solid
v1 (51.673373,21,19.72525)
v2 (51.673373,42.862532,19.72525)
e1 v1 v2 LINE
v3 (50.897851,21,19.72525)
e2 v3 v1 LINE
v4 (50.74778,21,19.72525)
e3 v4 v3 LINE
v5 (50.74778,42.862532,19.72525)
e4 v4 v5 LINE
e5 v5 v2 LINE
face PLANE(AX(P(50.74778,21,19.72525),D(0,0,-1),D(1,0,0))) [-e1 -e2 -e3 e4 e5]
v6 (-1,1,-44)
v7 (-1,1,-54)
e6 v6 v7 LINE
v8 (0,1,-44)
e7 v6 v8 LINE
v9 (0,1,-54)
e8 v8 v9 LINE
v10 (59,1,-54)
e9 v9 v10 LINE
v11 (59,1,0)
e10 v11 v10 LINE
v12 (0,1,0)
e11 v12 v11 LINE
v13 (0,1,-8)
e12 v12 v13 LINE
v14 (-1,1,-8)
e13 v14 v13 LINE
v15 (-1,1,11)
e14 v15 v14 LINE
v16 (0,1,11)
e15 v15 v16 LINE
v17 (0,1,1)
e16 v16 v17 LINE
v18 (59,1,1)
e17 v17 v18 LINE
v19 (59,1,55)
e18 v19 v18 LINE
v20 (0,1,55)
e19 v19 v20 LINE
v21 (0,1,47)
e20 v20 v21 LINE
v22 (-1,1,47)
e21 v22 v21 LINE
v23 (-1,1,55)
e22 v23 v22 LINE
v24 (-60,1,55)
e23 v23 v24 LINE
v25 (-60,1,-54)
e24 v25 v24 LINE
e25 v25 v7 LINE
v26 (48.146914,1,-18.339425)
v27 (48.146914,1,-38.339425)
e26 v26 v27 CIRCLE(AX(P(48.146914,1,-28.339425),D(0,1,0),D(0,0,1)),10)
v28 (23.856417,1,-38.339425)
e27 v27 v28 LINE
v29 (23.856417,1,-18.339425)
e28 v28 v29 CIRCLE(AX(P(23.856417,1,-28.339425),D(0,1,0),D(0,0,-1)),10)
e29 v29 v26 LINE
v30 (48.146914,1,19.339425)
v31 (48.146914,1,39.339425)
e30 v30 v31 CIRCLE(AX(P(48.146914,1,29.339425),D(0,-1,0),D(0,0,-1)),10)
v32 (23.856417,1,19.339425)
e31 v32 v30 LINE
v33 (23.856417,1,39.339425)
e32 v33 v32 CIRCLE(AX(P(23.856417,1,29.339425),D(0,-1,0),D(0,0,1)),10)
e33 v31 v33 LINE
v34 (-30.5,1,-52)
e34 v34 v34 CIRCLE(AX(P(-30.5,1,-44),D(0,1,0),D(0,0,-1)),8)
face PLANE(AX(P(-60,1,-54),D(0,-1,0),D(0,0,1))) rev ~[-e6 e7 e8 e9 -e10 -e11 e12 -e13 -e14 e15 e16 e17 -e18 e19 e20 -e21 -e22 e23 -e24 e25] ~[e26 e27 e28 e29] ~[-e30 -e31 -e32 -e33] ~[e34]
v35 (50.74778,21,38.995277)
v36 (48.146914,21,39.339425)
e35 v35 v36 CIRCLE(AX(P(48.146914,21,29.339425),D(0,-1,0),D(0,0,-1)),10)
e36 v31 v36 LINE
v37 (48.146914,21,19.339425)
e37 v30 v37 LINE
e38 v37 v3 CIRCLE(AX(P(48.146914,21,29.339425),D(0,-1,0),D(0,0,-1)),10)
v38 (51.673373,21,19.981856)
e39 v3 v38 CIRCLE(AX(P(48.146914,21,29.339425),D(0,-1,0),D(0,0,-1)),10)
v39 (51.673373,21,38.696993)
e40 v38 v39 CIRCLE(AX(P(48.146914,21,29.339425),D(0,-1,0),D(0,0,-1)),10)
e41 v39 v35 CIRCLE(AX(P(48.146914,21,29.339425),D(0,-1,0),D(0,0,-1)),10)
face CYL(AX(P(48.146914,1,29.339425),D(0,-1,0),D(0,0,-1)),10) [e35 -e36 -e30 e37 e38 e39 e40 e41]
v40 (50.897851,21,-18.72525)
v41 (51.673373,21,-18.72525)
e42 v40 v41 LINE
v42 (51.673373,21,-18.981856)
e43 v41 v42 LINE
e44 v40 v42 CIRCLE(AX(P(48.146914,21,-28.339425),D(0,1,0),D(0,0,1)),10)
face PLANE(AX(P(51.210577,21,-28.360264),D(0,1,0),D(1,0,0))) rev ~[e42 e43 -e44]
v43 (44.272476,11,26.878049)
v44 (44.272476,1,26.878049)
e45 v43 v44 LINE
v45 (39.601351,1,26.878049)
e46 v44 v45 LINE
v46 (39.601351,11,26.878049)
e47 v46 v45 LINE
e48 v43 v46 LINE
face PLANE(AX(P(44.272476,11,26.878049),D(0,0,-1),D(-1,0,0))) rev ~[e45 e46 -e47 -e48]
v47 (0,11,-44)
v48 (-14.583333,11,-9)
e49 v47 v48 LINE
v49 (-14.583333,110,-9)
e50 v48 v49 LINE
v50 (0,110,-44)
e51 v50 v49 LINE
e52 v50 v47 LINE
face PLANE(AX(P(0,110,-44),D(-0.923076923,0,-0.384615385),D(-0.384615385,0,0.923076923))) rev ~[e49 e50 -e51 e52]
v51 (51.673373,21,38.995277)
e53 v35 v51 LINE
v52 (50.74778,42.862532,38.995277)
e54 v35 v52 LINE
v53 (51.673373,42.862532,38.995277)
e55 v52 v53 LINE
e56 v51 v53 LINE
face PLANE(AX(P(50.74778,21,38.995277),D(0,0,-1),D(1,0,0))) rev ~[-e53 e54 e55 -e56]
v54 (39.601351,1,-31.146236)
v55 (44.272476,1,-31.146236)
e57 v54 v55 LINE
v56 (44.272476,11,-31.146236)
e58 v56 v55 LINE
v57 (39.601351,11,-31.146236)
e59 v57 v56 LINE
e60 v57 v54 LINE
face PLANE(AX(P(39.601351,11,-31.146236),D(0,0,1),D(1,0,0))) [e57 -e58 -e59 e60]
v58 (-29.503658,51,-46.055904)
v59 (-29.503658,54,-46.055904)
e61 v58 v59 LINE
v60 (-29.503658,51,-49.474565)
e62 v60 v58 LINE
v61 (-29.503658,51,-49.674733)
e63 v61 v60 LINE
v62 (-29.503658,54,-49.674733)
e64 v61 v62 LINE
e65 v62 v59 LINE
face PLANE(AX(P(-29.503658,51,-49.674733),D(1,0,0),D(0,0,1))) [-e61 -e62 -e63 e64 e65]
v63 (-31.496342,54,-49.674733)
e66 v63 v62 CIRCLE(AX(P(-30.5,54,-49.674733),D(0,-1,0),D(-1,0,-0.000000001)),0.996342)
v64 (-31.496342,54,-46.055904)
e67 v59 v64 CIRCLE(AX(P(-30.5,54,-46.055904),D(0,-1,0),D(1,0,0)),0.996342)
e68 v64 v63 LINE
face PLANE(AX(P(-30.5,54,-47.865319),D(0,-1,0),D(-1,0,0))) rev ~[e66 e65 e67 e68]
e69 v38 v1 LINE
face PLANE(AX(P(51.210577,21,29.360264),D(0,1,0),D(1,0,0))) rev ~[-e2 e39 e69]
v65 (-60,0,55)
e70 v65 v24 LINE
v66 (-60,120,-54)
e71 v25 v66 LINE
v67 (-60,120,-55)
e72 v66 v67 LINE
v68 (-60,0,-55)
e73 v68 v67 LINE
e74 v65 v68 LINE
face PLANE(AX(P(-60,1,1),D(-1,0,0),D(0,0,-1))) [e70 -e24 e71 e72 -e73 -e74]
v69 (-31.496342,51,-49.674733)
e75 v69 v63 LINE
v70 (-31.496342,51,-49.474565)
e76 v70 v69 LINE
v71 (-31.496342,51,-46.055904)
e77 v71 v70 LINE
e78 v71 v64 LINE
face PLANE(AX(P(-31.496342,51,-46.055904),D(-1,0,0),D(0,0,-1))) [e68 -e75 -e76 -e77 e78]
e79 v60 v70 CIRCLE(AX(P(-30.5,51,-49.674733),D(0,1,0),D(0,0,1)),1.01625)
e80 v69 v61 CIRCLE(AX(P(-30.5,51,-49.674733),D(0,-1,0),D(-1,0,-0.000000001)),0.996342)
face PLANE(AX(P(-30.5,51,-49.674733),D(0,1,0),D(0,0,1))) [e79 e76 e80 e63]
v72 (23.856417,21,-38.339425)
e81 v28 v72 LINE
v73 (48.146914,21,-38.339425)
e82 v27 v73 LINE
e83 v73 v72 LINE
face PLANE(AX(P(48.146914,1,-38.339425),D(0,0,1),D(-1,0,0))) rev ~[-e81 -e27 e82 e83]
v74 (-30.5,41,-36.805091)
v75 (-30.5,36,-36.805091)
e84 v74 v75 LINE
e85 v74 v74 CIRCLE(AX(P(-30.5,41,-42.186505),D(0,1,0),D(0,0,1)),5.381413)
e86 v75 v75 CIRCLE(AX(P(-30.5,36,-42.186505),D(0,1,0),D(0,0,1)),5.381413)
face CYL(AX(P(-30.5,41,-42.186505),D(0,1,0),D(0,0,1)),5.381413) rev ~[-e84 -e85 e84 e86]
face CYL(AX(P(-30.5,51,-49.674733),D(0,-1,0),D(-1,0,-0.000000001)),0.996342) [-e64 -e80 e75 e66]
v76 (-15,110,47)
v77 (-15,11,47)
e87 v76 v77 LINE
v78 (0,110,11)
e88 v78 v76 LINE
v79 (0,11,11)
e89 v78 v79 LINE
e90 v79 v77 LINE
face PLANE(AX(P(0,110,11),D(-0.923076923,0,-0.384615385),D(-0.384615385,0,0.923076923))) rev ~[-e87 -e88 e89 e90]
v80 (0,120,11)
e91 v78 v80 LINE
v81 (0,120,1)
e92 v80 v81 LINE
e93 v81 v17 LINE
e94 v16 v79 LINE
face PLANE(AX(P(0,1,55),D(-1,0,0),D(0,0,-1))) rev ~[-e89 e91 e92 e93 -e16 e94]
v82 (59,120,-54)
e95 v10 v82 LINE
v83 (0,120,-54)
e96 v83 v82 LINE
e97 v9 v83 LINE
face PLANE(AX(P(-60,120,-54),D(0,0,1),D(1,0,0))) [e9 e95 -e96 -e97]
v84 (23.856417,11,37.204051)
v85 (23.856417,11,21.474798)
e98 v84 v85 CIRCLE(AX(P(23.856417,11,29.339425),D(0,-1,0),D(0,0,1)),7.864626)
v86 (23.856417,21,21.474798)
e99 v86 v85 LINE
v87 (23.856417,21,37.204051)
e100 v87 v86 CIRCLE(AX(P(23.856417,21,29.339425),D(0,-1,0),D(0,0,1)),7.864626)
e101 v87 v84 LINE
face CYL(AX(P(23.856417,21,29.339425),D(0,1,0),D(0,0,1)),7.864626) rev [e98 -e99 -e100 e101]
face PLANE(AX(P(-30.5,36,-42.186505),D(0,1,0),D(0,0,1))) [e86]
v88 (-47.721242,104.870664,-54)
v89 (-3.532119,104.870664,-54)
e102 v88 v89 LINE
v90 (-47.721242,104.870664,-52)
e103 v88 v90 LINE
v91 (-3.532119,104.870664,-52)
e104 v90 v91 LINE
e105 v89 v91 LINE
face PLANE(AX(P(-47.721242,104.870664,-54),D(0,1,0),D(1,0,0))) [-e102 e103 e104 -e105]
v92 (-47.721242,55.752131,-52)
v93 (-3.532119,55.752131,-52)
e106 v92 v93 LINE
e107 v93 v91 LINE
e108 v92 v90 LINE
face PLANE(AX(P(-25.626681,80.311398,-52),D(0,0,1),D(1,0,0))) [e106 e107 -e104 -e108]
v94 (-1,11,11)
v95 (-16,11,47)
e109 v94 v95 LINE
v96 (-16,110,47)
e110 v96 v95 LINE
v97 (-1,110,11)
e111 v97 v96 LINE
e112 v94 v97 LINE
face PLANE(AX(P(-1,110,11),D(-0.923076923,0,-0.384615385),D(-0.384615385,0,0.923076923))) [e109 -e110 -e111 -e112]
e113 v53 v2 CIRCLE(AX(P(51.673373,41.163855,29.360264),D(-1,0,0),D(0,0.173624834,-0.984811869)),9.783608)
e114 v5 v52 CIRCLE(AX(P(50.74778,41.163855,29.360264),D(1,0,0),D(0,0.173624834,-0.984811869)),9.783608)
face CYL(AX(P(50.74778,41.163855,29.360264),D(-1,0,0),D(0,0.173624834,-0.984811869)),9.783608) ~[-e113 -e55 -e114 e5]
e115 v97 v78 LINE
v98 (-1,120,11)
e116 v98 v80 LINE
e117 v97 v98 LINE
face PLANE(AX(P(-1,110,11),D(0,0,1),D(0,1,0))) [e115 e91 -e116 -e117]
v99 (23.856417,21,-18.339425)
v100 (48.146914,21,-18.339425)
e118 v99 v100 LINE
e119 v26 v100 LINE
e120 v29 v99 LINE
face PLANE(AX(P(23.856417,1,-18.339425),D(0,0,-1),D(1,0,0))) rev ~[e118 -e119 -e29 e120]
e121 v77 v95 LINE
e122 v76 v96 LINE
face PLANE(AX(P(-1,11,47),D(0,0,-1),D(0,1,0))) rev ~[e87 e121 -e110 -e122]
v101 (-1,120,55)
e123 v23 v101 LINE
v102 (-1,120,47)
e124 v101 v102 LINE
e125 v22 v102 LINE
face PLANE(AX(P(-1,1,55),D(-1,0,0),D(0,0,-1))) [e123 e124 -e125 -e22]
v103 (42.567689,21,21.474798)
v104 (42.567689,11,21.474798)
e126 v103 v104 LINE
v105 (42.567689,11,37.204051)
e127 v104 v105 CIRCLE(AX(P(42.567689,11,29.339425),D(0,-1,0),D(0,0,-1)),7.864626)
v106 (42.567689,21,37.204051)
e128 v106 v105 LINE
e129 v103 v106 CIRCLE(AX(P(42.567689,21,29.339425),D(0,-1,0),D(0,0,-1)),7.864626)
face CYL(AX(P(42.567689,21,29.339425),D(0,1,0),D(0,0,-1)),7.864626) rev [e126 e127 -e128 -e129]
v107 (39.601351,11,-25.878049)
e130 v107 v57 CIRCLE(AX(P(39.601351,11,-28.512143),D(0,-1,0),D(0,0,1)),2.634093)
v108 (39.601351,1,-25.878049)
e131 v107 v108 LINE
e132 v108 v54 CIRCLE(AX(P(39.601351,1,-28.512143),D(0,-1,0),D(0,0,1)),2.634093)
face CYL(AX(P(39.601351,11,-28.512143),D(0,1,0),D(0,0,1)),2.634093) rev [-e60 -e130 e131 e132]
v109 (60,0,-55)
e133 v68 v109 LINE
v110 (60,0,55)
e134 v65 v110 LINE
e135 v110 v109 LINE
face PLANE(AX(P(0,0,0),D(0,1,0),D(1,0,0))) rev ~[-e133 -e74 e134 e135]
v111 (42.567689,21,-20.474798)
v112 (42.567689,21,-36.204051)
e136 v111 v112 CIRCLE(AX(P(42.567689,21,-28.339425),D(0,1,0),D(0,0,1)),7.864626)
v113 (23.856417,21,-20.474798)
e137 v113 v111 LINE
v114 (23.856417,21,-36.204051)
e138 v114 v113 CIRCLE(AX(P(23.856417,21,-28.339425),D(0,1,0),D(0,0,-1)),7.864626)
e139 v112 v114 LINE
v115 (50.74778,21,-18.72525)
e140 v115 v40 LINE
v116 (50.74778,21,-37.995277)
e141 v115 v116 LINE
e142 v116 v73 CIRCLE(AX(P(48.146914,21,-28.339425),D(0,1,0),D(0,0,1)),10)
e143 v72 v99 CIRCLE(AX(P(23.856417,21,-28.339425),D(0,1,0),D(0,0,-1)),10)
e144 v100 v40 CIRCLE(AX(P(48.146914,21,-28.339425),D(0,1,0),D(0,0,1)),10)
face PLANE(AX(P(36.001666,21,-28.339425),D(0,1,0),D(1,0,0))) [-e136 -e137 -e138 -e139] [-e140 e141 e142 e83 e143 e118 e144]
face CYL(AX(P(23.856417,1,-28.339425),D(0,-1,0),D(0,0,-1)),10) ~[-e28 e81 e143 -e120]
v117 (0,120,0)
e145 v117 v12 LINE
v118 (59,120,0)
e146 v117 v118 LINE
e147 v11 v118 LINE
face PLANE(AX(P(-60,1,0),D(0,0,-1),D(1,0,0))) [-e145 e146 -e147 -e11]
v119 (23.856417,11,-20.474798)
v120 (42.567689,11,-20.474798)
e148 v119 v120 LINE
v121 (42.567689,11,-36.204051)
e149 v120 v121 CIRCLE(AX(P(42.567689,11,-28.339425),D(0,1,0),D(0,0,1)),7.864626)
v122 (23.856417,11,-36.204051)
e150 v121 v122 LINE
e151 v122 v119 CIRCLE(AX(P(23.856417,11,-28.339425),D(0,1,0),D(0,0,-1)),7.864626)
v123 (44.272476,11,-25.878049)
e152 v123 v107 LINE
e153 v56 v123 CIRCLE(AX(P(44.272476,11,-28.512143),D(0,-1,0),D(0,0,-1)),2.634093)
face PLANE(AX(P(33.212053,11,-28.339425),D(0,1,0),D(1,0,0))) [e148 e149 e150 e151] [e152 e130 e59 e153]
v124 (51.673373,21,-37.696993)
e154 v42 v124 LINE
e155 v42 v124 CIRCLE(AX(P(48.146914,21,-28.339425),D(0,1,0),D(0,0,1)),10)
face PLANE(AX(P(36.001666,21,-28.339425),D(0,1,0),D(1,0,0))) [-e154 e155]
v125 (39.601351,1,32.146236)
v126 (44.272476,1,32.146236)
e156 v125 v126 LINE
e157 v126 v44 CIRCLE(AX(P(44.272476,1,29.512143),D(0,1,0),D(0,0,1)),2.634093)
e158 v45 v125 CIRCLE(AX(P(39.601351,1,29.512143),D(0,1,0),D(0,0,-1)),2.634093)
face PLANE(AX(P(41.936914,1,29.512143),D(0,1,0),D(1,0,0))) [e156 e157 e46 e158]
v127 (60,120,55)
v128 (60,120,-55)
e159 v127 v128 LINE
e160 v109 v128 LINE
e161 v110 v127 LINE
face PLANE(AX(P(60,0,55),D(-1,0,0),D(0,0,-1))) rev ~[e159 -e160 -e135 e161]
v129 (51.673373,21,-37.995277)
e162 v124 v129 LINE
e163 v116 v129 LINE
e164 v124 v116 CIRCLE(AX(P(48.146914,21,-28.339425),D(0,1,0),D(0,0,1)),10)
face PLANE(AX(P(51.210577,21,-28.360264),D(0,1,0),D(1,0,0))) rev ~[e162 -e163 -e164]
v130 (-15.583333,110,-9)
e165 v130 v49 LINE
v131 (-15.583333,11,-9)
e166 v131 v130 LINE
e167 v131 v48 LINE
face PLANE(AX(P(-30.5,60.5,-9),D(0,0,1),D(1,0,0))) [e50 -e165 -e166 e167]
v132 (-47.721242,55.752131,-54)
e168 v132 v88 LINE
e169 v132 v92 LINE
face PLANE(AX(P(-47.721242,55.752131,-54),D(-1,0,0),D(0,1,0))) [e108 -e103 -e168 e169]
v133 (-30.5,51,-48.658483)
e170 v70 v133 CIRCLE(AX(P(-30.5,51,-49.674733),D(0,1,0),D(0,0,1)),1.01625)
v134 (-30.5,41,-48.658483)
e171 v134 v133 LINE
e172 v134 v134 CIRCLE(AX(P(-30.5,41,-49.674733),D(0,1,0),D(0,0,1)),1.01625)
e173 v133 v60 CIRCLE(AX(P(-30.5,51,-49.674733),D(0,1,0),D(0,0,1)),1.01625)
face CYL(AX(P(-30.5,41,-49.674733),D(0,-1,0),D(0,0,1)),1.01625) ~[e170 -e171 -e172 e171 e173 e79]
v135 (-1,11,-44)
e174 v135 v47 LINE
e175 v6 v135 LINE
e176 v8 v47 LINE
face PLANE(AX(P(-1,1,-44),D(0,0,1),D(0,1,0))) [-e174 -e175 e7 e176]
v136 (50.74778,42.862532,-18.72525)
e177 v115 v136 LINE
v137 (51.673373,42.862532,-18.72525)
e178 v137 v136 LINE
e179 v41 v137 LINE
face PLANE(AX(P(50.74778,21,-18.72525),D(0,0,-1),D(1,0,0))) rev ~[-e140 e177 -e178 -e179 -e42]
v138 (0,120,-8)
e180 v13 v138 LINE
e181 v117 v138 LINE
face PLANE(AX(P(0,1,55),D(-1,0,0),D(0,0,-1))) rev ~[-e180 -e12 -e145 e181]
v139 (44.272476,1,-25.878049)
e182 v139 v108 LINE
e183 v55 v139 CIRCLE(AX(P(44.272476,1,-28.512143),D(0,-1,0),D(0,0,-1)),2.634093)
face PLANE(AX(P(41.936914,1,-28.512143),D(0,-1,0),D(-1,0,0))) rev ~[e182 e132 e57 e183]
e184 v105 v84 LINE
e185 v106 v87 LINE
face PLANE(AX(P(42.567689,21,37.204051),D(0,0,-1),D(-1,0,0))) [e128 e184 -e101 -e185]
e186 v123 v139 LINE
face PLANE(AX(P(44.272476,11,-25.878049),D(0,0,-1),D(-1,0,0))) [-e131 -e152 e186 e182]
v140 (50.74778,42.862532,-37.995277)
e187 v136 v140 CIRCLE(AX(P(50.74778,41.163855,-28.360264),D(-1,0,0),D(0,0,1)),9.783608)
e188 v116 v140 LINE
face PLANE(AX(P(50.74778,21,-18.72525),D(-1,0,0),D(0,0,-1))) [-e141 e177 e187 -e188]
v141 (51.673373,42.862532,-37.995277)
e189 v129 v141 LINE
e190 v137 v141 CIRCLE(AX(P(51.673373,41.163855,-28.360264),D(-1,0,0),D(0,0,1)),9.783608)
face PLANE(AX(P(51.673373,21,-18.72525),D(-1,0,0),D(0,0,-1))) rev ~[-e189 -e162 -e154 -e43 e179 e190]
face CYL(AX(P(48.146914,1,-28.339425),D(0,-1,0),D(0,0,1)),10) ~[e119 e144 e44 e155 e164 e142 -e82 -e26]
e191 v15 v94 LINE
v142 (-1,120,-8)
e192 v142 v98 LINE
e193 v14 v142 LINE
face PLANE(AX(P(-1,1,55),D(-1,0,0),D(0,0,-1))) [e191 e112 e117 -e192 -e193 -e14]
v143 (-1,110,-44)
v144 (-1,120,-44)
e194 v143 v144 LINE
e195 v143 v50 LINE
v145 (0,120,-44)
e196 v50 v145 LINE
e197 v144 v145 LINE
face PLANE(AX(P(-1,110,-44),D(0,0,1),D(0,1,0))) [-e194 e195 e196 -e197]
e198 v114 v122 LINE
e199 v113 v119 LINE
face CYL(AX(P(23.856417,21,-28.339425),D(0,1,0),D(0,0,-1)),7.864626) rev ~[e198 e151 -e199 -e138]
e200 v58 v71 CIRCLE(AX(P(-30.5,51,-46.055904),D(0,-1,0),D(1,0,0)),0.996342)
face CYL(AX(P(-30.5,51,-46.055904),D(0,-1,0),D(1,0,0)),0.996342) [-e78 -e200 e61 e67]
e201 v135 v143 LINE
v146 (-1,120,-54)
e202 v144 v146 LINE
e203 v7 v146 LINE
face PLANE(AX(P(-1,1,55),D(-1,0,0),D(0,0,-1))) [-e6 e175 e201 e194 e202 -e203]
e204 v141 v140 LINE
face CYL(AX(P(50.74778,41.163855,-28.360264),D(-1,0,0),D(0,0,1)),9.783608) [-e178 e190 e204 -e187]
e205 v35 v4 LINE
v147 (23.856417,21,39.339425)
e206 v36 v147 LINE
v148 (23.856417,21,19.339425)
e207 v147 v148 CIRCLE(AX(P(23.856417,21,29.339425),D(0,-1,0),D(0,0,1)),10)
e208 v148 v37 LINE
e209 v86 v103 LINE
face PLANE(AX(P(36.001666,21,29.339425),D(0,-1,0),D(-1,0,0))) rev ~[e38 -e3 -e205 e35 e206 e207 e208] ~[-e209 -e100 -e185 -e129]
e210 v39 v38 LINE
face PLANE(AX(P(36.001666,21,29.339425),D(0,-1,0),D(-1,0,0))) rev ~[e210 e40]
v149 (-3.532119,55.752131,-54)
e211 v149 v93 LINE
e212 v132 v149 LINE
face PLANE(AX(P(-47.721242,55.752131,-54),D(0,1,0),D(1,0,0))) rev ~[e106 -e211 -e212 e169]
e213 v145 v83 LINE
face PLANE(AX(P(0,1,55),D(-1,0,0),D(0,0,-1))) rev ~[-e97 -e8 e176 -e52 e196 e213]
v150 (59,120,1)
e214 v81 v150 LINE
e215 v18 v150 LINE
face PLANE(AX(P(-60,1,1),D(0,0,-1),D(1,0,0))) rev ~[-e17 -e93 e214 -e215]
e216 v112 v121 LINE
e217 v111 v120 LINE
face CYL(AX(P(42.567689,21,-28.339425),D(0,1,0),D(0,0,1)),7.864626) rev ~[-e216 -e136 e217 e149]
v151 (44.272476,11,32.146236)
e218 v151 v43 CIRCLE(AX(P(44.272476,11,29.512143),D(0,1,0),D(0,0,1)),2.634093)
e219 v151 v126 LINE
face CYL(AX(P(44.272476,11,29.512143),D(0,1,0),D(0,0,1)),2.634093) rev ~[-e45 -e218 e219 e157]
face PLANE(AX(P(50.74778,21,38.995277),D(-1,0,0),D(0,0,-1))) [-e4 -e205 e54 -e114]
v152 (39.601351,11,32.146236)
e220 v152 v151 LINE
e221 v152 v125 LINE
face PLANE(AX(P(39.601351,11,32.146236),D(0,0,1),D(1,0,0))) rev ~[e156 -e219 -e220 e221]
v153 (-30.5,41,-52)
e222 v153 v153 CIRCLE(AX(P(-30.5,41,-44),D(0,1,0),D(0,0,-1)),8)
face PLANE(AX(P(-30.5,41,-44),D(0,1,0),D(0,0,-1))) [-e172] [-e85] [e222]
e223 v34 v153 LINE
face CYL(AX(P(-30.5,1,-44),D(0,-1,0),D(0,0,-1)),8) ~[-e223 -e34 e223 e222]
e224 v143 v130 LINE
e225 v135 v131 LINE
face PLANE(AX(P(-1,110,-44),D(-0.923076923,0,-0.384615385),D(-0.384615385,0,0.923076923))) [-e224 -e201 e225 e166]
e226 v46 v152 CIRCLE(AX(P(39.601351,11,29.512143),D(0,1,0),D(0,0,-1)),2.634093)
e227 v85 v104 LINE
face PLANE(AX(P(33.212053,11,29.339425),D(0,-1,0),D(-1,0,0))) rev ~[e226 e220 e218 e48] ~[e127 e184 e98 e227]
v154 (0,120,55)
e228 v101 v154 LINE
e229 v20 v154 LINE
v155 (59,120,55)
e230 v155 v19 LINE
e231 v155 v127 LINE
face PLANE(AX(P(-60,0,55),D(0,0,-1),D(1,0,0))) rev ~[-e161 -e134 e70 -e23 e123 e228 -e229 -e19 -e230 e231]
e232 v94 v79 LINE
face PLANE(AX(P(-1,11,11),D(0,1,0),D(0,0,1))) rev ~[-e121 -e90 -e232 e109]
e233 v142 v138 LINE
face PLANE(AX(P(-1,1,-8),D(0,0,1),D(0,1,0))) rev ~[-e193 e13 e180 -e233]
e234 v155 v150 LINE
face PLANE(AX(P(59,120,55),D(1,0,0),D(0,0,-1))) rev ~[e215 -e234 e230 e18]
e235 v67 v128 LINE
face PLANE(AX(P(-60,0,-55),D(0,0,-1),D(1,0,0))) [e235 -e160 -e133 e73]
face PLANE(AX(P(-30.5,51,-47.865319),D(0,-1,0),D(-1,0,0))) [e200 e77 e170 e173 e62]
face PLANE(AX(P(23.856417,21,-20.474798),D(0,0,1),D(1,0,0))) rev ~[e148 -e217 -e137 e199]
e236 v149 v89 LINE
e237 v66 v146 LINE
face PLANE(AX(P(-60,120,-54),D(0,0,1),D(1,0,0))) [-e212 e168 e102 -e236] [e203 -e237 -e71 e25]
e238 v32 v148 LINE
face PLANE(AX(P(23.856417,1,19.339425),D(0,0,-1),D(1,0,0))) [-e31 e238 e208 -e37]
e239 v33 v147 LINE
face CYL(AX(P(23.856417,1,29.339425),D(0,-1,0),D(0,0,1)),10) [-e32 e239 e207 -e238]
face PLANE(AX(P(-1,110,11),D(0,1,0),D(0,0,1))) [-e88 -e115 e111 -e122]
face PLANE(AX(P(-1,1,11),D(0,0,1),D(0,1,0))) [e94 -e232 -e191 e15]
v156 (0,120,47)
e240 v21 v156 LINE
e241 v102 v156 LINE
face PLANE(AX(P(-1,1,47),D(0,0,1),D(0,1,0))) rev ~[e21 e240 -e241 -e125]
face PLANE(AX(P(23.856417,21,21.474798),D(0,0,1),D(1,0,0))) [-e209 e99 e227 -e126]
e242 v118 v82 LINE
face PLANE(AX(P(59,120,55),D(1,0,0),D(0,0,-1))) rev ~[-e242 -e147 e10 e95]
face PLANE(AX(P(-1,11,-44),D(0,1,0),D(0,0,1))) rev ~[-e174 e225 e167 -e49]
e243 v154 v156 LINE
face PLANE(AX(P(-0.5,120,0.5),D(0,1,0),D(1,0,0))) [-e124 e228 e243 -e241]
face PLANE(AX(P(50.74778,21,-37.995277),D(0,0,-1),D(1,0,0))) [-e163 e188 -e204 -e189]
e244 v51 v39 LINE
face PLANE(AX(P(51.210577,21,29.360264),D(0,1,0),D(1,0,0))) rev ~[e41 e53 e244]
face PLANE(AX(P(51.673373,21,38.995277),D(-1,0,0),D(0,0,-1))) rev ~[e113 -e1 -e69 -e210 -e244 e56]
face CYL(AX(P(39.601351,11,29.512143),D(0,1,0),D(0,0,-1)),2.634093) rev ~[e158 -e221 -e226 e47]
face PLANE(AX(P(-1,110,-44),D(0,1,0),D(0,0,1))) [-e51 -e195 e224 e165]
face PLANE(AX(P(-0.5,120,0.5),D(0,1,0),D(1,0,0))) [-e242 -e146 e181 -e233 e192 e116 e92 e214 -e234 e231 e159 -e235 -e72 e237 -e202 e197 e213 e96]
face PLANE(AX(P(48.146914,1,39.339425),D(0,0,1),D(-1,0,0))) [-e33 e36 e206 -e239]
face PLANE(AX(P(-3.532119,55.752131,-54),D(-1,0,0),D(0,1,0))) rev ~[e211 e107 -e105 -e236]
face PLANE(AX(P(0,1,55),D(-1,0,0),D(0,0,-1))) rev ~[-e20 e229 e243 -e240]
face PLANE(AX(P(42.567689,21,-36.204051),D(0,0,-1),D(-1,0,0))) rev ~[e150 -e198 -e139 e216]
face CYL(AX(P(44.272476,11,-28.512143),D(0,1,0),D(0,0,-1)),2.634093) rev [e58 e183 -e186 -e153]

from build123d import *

# Parameters (mm, degrees)
SKETCH_1_W           = 120
SKETCH_1_H           = 110
EXTRUDE_2_DEPTH      = 120
SKETCH_2_W           = 118
SKETCH_2_H           = 118
CUT_EXTRUDE_1_DEPTH  = 109
SKETCH_5_W           = 109
SKETCH_5_H           = 118
CUT_EXTRUDE_2_DEPTH  = 109
SKETCH_6_W           = 119
SKETCH_6_H           = 109
CUT_EXTRUDE_3_DEPTH  = 109
SKETCH_7_W           = 1
SKETCH_7_H           = 109
EXTRUDE_3_DEPTH      = 119
SKETCH_8_W           = 119
SKETCH_8_H           = 1
EXTRUDE_5_DEPTH      = 119
SKETCH_9_W           = 36
SKETCH_9_H           = 10
CUT_EXTRUDE_4_DEPTH  = 39
SKETCH_11_W          = 36
SKETCH_11_H          = 10
CUT_EXTRUDE_5_DEPTH  = 39
SKETCH_12_W          = 36
SKETCH_12_H          = 99
EXTRUDE_6_DEPTH      = 30
CUT_EXTRUDE_6_DEPTH  = 100
SKETCH_14_W          = 36
SKETCH_14_H          = 99
EXTRUDE_7_DEPTH      = 30
CUT_EXTRUDE_7_DEPTH  = 100
EXTRUDE_9_DEPTH      = 20
CUT_EXTRUDE_8_DEPTH  = 10
CUT_EXTRUDE_9_DEPTH  = 10
SKETCH_22_W          = 0.925592825
SKETCH_22_H          = 19.270027161
EXTRUDE_10_DEPTH     = 30
CUT_EXTRUDE_14_DEPTH = 5
SKETCH_27_R          = 8
EXTRUDE_14_DEPTH     = 40
SKETCH_29_R          = 5.381413495
CUT_EXTRUDE_15_DEPTH = 5
SKETCH_30_R          = 1.016249725
EXTRUDE_15_DEPTH     = 10
EXTRUDE_16_DEPTH     = 3
SKETCH_32_W          = 44.189123475
SKETCH_32_H          = 49.118532685
EXTRUDE_17_DEPTH     = 2
SKETCH_33_W          = 59
SKETCH_33_H          = 119
CUT_EXTRUDE_16_DEPTH = 10


with BuildPart() as part:
    # 스케치1 → 보스-돌출2 (new body)
    with BuildSketch(Plane(origin=(0, 0, 0), x_dir=(1, 0, 0), z_dir=(0, 1, 0))):
        Rectangle(SKETCH_1_W, SKETCH_1_H)
    extrude(amount=EXTRUDE_2_DEPTH)

    # 스케치2 → 컷-돌출1 (cut)
    with BuildSketch(Plane.XY.offset(55)):
        with Locations((0, 60)):
            Rectangle(SKETCH_2_W, SKETCH_2_H)
    extrude(amount=-CUT_EXTRUDE_1_DEPTH, mode=Mode.SUBTRACT)

    # 스케치5 → 컷-돌출2 (cut)
    with BuildSketch(Plane.ZY.offset(60)):
        with Locations((0.5, 60)):
            Rectangle(SKETCH_5_W, SKETCH_5_H)
    extrude(amount=-CUT_EXTRUDE_2_DEPTH, mode=Mode.SUBTRACT)

    # 스케치6 → 컷-돌출3 (cut)
    with BuildSketch(Plane(origin=(0, 120, 0), x_dir=(1, 0, 0), z_dir=(0, 1, 0))):
        with Locations((-0.5, -0.5)):
            Rectangle(SKETCH_6_W, SKETCH_6_H)
    extrude(amount=-CUT_EXTRUDE_3_DEPTH, mode=Mode.SUBTRACT)

    # 스케치7 → 보스-돌출3 (add)
    with BuildSketch(Plane(origin=(0, 1, 0), x_dir=(1, 0, 0), z_dir=(0, 1, 0))):
        with Locations((-0.5, -0.5)):
            Rectangle(SKETCH_7_W, SKETCH_7_H)
    extrude(amount=EXTRUDE_3_DEPTH)

    # 스케치8 → 보스-돌출5 (add)
    with BuildSketch(Plane(origin=(0, 1, 0), x_dir=(1, 0, 0), z_dir=(0, 1, 0))):
        with Locations((-0.5, -0.5)):
            Rectangle(SKETCH_8_W, SKETCH_8_H)
    extrude(amount=EXTRUDE_5_DEPTH)

    # 스케치9 → 컷-돌출4 (cut)
    with BuildSketch(Plane.ZY.offset(1)):
        with Locations((-26, 115)):
            Rectangle(SKETCH_9_W, SKETCH_9_H)
        with Locations((-26, 6)):
            Rectangle(SKETCH_9_W, SKETCH_9_H)
    extrude(amount=-CUT_EXTRUDE_4_DEPTH, mode=Mode.SUBTRACT)

    # 스케치11 → 컷-돌출5 (cut)
    with BuildSketch(Plane.ZY.offset(1)):
        with Locations((29, 115)):
            Rectangle(SKETCH_11_W, SKETCH_11_H)
        with Locations((29, 6)):
            Rectangle(SKETCH_11_W, SKETCH_11_H)
    extrude(amount=-CUT_EXTRUDE_5_DEPTH, mode=Mode.SUBTRACT)

    # 스케치12 → 보스-돌출6 (add)
    with BuildSketch(Plane.ZY.offset(1)):
        with Locations((-26, 60.5)):
            Rectangle(SKETCH_12_W, SKETCH_12_H)
    extrude(amount=EXTRUDE_6_DEPTH)

    # 스케치13 → 컷-돌출6 (cut)
    with BuildSketch(Plane(origin=(0, 110, 0), x_dir=(1, 0, 0), z_dir=(0, 1, 0))):
        Polygon((-1, 44), (-16, 8), (-31, 8), (-31, 44), align=None)
        Polygon((0, 44), (-15, 8), (0, 8), align=None)
    extrude(amount=-CUT_EXTRUDE_6_DEPTH, mode=Mode.SUBTRACT)

    # 스케치14 → 보스-돌출7 (add)
    with BuildSketch(Plane.ZY.offset(1)):
        with Locations((29, 60.5)):
            Rectangle(SKETCH_14_W, SKETCH_14_H)
    extrude(amount=EXTRUDE_7_DEPTH)

    # 스케치15 → 컷-돌출7 (cut)
    with BuildSketch(Plane(origin=(0, 110, 0), x_dir=(1, 0, 0), z_dir=(0, 1, 0))):
        Polygon((-1, -11), (-16, -47), (-31, -47), (-31, -11), align=None)
        Polygon((0, -11), (-15, -47), (0, -47), align=None)
    extrude(amount=-CUT_EXTRUDE_7_DEPTH, mode=Mode.SUBTRACT)

    # 스케치16 → 보스-돌출9 (add)
    with BuildSketch(Plane(origin=(0, 1, 0), x_dir=(1, 0, 0), z_dir=(0, 1, 0))):
        with BuildLine():
            Line((48.146914235, -39.33942453), (23.856416777, -39.33942453))
            ThreePointArc((23.856416777, -39.33942453), (13.856416777, -29.33942453), (23.856416777, -19.33942453))
            Line((23.856416777, -19.33942453), (48.146914235, -19.33942453))
            ThreePointArc((48.146914235, -19.33942453), (58.146914235, -29.33942453), (48.146914235, -39.33942453))
        make_face()
        with BuildLine():
            Line((48.146914235, 38.33942453), (23.856416777, 38.33942453))
            ThreePointArc((23.856416777, 38.33942453), (13.856416777, 28.33942453), (23.856416777, 18.33942453))
            Line((23.856416777, 18.33942453), (48.146914235, 18.33942453))
            ThreePointArc((48.146914235, 18.33942453), (58.146914235, 28.33942453), (48.146914235, 38.33942453))
        make_face()
    extrude(amount=EXTRUDE_9_DEPTH)

    # 스케치17 → 컷-돌출8 (cut)
    with BuildSketch(Plane(origin=(0, 21, 0), x_dir=(1, 0, 0), z_dir=(0, 1, 0))):
        with BuildLine():
            Line((23.856416777, -21.474798149), (42.567688879, -21.474798149))
            ThreePointArc((42.567688879, -21.474798149), (50.43231526, -29.33942453), (42.567688879, -37.204050911))
            Line((42.567688879, -37.204050911), (23.856416777, -37.204050911))
            ThreePointArc((23.856416777, -37.204050911), (15.991790397, -29.33942453), (23.856416777, -21.474798149))
        make_face()
        with BuildLine():
            Line((23.856416777, 20.474798149), (42.567688879, 20.474798149))
            ThreePointArc((42.567688879, 20.474798149), (50.43231526, 28.33942453), (42.567688879, 36.204050911))
            Line((42.567688879, 36.204050911), (23.856416777, 36.204050911))
            ThreePointArc((23.856416777, 36.204050911), (15.991790397, 28.33942453), (23.856416777, 20.474798149))
        make_face()
    extrude(amount=-CUT_EXTRUDE_8_DEPTH, mode=Mode.SUBTRACT)

    # 스케치19 → 컷-돌출9 (cut)
    with BuildSketch(Plane(origin=(0, 11, 0), x_dir=(1, 0, 0), z_dir=(0, 1, 0))):
        with BuildLine():
            Line((39.6013509, 31.146236018), (44.272476327, 31.146236018))
            ThreePointArc((44.272476327, 31.146236018), (46.906569613, 28.512142732), (44.272476327, 25.878049447))
            Line((44.272476327, 25.878049447), (39.6013509, 25.878049447))
            ThreePointArc((39.6013509, 25.878049447), (36.967257615, 28.512142732), (39.6013509, 31.146236018))
        make_face()
        with BuildLine():
            Line((39.6013509, -32.146236018), (44.272476327, -32.146236018))
            ThreePointArc((44.272476327, -32.146236018), (46.906569613, -29.512142732), (44.272476327, -26.878049447))
            Line((44.272476327, -26.878049447), (39.6013509, -26.878049447))
            ThreePointArc((39.6013509, -26.878049447), (36.967257615, -29.512142732), (39.6013509, -32.146236018))
        make_face()
    extrude(amount=-CUT_EXTRUDE_9_DEPTH, mode=Mode.SUBTRACT)

    # 스케치22 → 보스-돌출10 (add)
    with BuildSketch(Plane(origin=(0, 21, 0), x_dir=(1, 0, 0), z_dir=(0, 1, 0))):
        with Locations((51.210576598, -29.360263905)):
            Rectangle(SKETCH_22_W, SKETCH_22_H)
        with Locations((51.210576598, 28.360263905)):
            Rectangle(SKETCH_22_W, SKETCH_22_H)
    extrude(amount=EXTRUDE_10_DEPTH)

    # 스케치26 → 컷-돌출14 (cut)
    with BuildSketch(Plane.ZY.offset(-50.747780185)):
        with BuildLine():
            Line((19.725250325, 51), (19.725250325, 42.862531911))
            ThreePointArc((19.725250325, 42.862531911), (29.360263905, 50.947462847), (38.995277486, 42.862531911))
            Line((38.995277486, 42.862531911), (38.995277486, 51))
            Line((38.995277486, 51), (19.725250325, 51))
        make_face()
        with BuildLine():
            Line((-38.143872213, 41.16385454), (-38.143872213, 57.416257422))
            Line((-38.143872213, 57.416257422), (-18.576655598, 57.416257422))
            Line((-18.576655598, 57.416257422), (-18.576655598, 41.16385454))
            ThreePointArc((-18.576655598, 41.16385454), (-28.360263905, 50.947462847), (-38.143872213, 41.16385454))
        make_face()
    extrude(amount=-CUT_EXTRUDE_14_DEPTH, mode=Mode.SUBTRACT)

    # 스케치27 → 보스-돌출14 (add)
    with BuildSketch(Plane(origin=(0, 1, 0), x_dir=(1, 0, 0), z_dir=(0, 1, 0))):
        with Locations(Location((-30.5, 44, 0), (0, 0, 90))):
            Circle(SKETCH_27_R)
    extrude(amount=EXTRUDE_14_DEPTH)

    # 스케치29 → 컷-돌출15 (cut)
    with BuildSketch(Plane(origin=(0, 41, 0), x_dir=(1, 0, 0), z_dir=(0, 1, 0))):
        with Locations(Location((-30.5, 42.18650453, 0), (0, 0, 270))):
            Circle(SKETCH_29_R)
    extrude(amount=-CUT_EXTRUDE_15_DEPTH, mode=Mode.SUBTRACT)

    # 스케치30 → 보스-돌출15 (add)
    with BuildSketch(Plane(origin=(0, 41, 0), x_dir=(1, 0, 0), z_dir=(0, 1, 0))):
        with Locations(Location((-30.5, 49.674732838, 0), (0, 0, 270))):
            Circle(SKETCH_30_R)
    extrude(amount=EXTRUDE_15_DEPTH)

    # 스케치31 → 보스-돌출16 (add)
    with BuildSketch(Plane(origin=(0, 51, 0), x_dir=(1, 0, 0), z_dir=(0, 1, 0))):
        with BuildLine():
            Line((-29.503658446, 49.674732838), (-29.503658446, 46.055904325))
            ThreePointArc((-29.503658446, 46.055904325), (-30.5, 45.059562771), (-31.496341554, 46.055904325))
            Line((-31.496341554, 46.055904325), (-31.496341554, 49.674732838))
            ThreePointArc((-31.496341554, 49.674732838), (-30.5, 50.671074391), (-29.503658446, 49.674732838))
        make_face()
    extrude(amount=EXTRUDE_16_DEPTH)

    # 스케치32 → 보스-돌출17 (add)
    with BuildSketch(Plane.XY.offset(-54)):
        with Locations((-25.626680732, 80.311397781)):
            Rectangle(SKETCH_32_W, SKETCH_32_H)
    extrude(amount=EXTRUDE_17_DEPTH)

    # 스케치33 → 컷-돌출16 (cut)
    with BuildSketch(Plane.XY.offset(1)):
        with Locations((-30.5, 60.5)):
            Rectangle(SKETCH_33_W, SKETCH_33_H)
    extrude(amount=-CUT_EXTRUDE_16_DEPTH, mode=Mode.SUBTRACT)


solid = part.part
